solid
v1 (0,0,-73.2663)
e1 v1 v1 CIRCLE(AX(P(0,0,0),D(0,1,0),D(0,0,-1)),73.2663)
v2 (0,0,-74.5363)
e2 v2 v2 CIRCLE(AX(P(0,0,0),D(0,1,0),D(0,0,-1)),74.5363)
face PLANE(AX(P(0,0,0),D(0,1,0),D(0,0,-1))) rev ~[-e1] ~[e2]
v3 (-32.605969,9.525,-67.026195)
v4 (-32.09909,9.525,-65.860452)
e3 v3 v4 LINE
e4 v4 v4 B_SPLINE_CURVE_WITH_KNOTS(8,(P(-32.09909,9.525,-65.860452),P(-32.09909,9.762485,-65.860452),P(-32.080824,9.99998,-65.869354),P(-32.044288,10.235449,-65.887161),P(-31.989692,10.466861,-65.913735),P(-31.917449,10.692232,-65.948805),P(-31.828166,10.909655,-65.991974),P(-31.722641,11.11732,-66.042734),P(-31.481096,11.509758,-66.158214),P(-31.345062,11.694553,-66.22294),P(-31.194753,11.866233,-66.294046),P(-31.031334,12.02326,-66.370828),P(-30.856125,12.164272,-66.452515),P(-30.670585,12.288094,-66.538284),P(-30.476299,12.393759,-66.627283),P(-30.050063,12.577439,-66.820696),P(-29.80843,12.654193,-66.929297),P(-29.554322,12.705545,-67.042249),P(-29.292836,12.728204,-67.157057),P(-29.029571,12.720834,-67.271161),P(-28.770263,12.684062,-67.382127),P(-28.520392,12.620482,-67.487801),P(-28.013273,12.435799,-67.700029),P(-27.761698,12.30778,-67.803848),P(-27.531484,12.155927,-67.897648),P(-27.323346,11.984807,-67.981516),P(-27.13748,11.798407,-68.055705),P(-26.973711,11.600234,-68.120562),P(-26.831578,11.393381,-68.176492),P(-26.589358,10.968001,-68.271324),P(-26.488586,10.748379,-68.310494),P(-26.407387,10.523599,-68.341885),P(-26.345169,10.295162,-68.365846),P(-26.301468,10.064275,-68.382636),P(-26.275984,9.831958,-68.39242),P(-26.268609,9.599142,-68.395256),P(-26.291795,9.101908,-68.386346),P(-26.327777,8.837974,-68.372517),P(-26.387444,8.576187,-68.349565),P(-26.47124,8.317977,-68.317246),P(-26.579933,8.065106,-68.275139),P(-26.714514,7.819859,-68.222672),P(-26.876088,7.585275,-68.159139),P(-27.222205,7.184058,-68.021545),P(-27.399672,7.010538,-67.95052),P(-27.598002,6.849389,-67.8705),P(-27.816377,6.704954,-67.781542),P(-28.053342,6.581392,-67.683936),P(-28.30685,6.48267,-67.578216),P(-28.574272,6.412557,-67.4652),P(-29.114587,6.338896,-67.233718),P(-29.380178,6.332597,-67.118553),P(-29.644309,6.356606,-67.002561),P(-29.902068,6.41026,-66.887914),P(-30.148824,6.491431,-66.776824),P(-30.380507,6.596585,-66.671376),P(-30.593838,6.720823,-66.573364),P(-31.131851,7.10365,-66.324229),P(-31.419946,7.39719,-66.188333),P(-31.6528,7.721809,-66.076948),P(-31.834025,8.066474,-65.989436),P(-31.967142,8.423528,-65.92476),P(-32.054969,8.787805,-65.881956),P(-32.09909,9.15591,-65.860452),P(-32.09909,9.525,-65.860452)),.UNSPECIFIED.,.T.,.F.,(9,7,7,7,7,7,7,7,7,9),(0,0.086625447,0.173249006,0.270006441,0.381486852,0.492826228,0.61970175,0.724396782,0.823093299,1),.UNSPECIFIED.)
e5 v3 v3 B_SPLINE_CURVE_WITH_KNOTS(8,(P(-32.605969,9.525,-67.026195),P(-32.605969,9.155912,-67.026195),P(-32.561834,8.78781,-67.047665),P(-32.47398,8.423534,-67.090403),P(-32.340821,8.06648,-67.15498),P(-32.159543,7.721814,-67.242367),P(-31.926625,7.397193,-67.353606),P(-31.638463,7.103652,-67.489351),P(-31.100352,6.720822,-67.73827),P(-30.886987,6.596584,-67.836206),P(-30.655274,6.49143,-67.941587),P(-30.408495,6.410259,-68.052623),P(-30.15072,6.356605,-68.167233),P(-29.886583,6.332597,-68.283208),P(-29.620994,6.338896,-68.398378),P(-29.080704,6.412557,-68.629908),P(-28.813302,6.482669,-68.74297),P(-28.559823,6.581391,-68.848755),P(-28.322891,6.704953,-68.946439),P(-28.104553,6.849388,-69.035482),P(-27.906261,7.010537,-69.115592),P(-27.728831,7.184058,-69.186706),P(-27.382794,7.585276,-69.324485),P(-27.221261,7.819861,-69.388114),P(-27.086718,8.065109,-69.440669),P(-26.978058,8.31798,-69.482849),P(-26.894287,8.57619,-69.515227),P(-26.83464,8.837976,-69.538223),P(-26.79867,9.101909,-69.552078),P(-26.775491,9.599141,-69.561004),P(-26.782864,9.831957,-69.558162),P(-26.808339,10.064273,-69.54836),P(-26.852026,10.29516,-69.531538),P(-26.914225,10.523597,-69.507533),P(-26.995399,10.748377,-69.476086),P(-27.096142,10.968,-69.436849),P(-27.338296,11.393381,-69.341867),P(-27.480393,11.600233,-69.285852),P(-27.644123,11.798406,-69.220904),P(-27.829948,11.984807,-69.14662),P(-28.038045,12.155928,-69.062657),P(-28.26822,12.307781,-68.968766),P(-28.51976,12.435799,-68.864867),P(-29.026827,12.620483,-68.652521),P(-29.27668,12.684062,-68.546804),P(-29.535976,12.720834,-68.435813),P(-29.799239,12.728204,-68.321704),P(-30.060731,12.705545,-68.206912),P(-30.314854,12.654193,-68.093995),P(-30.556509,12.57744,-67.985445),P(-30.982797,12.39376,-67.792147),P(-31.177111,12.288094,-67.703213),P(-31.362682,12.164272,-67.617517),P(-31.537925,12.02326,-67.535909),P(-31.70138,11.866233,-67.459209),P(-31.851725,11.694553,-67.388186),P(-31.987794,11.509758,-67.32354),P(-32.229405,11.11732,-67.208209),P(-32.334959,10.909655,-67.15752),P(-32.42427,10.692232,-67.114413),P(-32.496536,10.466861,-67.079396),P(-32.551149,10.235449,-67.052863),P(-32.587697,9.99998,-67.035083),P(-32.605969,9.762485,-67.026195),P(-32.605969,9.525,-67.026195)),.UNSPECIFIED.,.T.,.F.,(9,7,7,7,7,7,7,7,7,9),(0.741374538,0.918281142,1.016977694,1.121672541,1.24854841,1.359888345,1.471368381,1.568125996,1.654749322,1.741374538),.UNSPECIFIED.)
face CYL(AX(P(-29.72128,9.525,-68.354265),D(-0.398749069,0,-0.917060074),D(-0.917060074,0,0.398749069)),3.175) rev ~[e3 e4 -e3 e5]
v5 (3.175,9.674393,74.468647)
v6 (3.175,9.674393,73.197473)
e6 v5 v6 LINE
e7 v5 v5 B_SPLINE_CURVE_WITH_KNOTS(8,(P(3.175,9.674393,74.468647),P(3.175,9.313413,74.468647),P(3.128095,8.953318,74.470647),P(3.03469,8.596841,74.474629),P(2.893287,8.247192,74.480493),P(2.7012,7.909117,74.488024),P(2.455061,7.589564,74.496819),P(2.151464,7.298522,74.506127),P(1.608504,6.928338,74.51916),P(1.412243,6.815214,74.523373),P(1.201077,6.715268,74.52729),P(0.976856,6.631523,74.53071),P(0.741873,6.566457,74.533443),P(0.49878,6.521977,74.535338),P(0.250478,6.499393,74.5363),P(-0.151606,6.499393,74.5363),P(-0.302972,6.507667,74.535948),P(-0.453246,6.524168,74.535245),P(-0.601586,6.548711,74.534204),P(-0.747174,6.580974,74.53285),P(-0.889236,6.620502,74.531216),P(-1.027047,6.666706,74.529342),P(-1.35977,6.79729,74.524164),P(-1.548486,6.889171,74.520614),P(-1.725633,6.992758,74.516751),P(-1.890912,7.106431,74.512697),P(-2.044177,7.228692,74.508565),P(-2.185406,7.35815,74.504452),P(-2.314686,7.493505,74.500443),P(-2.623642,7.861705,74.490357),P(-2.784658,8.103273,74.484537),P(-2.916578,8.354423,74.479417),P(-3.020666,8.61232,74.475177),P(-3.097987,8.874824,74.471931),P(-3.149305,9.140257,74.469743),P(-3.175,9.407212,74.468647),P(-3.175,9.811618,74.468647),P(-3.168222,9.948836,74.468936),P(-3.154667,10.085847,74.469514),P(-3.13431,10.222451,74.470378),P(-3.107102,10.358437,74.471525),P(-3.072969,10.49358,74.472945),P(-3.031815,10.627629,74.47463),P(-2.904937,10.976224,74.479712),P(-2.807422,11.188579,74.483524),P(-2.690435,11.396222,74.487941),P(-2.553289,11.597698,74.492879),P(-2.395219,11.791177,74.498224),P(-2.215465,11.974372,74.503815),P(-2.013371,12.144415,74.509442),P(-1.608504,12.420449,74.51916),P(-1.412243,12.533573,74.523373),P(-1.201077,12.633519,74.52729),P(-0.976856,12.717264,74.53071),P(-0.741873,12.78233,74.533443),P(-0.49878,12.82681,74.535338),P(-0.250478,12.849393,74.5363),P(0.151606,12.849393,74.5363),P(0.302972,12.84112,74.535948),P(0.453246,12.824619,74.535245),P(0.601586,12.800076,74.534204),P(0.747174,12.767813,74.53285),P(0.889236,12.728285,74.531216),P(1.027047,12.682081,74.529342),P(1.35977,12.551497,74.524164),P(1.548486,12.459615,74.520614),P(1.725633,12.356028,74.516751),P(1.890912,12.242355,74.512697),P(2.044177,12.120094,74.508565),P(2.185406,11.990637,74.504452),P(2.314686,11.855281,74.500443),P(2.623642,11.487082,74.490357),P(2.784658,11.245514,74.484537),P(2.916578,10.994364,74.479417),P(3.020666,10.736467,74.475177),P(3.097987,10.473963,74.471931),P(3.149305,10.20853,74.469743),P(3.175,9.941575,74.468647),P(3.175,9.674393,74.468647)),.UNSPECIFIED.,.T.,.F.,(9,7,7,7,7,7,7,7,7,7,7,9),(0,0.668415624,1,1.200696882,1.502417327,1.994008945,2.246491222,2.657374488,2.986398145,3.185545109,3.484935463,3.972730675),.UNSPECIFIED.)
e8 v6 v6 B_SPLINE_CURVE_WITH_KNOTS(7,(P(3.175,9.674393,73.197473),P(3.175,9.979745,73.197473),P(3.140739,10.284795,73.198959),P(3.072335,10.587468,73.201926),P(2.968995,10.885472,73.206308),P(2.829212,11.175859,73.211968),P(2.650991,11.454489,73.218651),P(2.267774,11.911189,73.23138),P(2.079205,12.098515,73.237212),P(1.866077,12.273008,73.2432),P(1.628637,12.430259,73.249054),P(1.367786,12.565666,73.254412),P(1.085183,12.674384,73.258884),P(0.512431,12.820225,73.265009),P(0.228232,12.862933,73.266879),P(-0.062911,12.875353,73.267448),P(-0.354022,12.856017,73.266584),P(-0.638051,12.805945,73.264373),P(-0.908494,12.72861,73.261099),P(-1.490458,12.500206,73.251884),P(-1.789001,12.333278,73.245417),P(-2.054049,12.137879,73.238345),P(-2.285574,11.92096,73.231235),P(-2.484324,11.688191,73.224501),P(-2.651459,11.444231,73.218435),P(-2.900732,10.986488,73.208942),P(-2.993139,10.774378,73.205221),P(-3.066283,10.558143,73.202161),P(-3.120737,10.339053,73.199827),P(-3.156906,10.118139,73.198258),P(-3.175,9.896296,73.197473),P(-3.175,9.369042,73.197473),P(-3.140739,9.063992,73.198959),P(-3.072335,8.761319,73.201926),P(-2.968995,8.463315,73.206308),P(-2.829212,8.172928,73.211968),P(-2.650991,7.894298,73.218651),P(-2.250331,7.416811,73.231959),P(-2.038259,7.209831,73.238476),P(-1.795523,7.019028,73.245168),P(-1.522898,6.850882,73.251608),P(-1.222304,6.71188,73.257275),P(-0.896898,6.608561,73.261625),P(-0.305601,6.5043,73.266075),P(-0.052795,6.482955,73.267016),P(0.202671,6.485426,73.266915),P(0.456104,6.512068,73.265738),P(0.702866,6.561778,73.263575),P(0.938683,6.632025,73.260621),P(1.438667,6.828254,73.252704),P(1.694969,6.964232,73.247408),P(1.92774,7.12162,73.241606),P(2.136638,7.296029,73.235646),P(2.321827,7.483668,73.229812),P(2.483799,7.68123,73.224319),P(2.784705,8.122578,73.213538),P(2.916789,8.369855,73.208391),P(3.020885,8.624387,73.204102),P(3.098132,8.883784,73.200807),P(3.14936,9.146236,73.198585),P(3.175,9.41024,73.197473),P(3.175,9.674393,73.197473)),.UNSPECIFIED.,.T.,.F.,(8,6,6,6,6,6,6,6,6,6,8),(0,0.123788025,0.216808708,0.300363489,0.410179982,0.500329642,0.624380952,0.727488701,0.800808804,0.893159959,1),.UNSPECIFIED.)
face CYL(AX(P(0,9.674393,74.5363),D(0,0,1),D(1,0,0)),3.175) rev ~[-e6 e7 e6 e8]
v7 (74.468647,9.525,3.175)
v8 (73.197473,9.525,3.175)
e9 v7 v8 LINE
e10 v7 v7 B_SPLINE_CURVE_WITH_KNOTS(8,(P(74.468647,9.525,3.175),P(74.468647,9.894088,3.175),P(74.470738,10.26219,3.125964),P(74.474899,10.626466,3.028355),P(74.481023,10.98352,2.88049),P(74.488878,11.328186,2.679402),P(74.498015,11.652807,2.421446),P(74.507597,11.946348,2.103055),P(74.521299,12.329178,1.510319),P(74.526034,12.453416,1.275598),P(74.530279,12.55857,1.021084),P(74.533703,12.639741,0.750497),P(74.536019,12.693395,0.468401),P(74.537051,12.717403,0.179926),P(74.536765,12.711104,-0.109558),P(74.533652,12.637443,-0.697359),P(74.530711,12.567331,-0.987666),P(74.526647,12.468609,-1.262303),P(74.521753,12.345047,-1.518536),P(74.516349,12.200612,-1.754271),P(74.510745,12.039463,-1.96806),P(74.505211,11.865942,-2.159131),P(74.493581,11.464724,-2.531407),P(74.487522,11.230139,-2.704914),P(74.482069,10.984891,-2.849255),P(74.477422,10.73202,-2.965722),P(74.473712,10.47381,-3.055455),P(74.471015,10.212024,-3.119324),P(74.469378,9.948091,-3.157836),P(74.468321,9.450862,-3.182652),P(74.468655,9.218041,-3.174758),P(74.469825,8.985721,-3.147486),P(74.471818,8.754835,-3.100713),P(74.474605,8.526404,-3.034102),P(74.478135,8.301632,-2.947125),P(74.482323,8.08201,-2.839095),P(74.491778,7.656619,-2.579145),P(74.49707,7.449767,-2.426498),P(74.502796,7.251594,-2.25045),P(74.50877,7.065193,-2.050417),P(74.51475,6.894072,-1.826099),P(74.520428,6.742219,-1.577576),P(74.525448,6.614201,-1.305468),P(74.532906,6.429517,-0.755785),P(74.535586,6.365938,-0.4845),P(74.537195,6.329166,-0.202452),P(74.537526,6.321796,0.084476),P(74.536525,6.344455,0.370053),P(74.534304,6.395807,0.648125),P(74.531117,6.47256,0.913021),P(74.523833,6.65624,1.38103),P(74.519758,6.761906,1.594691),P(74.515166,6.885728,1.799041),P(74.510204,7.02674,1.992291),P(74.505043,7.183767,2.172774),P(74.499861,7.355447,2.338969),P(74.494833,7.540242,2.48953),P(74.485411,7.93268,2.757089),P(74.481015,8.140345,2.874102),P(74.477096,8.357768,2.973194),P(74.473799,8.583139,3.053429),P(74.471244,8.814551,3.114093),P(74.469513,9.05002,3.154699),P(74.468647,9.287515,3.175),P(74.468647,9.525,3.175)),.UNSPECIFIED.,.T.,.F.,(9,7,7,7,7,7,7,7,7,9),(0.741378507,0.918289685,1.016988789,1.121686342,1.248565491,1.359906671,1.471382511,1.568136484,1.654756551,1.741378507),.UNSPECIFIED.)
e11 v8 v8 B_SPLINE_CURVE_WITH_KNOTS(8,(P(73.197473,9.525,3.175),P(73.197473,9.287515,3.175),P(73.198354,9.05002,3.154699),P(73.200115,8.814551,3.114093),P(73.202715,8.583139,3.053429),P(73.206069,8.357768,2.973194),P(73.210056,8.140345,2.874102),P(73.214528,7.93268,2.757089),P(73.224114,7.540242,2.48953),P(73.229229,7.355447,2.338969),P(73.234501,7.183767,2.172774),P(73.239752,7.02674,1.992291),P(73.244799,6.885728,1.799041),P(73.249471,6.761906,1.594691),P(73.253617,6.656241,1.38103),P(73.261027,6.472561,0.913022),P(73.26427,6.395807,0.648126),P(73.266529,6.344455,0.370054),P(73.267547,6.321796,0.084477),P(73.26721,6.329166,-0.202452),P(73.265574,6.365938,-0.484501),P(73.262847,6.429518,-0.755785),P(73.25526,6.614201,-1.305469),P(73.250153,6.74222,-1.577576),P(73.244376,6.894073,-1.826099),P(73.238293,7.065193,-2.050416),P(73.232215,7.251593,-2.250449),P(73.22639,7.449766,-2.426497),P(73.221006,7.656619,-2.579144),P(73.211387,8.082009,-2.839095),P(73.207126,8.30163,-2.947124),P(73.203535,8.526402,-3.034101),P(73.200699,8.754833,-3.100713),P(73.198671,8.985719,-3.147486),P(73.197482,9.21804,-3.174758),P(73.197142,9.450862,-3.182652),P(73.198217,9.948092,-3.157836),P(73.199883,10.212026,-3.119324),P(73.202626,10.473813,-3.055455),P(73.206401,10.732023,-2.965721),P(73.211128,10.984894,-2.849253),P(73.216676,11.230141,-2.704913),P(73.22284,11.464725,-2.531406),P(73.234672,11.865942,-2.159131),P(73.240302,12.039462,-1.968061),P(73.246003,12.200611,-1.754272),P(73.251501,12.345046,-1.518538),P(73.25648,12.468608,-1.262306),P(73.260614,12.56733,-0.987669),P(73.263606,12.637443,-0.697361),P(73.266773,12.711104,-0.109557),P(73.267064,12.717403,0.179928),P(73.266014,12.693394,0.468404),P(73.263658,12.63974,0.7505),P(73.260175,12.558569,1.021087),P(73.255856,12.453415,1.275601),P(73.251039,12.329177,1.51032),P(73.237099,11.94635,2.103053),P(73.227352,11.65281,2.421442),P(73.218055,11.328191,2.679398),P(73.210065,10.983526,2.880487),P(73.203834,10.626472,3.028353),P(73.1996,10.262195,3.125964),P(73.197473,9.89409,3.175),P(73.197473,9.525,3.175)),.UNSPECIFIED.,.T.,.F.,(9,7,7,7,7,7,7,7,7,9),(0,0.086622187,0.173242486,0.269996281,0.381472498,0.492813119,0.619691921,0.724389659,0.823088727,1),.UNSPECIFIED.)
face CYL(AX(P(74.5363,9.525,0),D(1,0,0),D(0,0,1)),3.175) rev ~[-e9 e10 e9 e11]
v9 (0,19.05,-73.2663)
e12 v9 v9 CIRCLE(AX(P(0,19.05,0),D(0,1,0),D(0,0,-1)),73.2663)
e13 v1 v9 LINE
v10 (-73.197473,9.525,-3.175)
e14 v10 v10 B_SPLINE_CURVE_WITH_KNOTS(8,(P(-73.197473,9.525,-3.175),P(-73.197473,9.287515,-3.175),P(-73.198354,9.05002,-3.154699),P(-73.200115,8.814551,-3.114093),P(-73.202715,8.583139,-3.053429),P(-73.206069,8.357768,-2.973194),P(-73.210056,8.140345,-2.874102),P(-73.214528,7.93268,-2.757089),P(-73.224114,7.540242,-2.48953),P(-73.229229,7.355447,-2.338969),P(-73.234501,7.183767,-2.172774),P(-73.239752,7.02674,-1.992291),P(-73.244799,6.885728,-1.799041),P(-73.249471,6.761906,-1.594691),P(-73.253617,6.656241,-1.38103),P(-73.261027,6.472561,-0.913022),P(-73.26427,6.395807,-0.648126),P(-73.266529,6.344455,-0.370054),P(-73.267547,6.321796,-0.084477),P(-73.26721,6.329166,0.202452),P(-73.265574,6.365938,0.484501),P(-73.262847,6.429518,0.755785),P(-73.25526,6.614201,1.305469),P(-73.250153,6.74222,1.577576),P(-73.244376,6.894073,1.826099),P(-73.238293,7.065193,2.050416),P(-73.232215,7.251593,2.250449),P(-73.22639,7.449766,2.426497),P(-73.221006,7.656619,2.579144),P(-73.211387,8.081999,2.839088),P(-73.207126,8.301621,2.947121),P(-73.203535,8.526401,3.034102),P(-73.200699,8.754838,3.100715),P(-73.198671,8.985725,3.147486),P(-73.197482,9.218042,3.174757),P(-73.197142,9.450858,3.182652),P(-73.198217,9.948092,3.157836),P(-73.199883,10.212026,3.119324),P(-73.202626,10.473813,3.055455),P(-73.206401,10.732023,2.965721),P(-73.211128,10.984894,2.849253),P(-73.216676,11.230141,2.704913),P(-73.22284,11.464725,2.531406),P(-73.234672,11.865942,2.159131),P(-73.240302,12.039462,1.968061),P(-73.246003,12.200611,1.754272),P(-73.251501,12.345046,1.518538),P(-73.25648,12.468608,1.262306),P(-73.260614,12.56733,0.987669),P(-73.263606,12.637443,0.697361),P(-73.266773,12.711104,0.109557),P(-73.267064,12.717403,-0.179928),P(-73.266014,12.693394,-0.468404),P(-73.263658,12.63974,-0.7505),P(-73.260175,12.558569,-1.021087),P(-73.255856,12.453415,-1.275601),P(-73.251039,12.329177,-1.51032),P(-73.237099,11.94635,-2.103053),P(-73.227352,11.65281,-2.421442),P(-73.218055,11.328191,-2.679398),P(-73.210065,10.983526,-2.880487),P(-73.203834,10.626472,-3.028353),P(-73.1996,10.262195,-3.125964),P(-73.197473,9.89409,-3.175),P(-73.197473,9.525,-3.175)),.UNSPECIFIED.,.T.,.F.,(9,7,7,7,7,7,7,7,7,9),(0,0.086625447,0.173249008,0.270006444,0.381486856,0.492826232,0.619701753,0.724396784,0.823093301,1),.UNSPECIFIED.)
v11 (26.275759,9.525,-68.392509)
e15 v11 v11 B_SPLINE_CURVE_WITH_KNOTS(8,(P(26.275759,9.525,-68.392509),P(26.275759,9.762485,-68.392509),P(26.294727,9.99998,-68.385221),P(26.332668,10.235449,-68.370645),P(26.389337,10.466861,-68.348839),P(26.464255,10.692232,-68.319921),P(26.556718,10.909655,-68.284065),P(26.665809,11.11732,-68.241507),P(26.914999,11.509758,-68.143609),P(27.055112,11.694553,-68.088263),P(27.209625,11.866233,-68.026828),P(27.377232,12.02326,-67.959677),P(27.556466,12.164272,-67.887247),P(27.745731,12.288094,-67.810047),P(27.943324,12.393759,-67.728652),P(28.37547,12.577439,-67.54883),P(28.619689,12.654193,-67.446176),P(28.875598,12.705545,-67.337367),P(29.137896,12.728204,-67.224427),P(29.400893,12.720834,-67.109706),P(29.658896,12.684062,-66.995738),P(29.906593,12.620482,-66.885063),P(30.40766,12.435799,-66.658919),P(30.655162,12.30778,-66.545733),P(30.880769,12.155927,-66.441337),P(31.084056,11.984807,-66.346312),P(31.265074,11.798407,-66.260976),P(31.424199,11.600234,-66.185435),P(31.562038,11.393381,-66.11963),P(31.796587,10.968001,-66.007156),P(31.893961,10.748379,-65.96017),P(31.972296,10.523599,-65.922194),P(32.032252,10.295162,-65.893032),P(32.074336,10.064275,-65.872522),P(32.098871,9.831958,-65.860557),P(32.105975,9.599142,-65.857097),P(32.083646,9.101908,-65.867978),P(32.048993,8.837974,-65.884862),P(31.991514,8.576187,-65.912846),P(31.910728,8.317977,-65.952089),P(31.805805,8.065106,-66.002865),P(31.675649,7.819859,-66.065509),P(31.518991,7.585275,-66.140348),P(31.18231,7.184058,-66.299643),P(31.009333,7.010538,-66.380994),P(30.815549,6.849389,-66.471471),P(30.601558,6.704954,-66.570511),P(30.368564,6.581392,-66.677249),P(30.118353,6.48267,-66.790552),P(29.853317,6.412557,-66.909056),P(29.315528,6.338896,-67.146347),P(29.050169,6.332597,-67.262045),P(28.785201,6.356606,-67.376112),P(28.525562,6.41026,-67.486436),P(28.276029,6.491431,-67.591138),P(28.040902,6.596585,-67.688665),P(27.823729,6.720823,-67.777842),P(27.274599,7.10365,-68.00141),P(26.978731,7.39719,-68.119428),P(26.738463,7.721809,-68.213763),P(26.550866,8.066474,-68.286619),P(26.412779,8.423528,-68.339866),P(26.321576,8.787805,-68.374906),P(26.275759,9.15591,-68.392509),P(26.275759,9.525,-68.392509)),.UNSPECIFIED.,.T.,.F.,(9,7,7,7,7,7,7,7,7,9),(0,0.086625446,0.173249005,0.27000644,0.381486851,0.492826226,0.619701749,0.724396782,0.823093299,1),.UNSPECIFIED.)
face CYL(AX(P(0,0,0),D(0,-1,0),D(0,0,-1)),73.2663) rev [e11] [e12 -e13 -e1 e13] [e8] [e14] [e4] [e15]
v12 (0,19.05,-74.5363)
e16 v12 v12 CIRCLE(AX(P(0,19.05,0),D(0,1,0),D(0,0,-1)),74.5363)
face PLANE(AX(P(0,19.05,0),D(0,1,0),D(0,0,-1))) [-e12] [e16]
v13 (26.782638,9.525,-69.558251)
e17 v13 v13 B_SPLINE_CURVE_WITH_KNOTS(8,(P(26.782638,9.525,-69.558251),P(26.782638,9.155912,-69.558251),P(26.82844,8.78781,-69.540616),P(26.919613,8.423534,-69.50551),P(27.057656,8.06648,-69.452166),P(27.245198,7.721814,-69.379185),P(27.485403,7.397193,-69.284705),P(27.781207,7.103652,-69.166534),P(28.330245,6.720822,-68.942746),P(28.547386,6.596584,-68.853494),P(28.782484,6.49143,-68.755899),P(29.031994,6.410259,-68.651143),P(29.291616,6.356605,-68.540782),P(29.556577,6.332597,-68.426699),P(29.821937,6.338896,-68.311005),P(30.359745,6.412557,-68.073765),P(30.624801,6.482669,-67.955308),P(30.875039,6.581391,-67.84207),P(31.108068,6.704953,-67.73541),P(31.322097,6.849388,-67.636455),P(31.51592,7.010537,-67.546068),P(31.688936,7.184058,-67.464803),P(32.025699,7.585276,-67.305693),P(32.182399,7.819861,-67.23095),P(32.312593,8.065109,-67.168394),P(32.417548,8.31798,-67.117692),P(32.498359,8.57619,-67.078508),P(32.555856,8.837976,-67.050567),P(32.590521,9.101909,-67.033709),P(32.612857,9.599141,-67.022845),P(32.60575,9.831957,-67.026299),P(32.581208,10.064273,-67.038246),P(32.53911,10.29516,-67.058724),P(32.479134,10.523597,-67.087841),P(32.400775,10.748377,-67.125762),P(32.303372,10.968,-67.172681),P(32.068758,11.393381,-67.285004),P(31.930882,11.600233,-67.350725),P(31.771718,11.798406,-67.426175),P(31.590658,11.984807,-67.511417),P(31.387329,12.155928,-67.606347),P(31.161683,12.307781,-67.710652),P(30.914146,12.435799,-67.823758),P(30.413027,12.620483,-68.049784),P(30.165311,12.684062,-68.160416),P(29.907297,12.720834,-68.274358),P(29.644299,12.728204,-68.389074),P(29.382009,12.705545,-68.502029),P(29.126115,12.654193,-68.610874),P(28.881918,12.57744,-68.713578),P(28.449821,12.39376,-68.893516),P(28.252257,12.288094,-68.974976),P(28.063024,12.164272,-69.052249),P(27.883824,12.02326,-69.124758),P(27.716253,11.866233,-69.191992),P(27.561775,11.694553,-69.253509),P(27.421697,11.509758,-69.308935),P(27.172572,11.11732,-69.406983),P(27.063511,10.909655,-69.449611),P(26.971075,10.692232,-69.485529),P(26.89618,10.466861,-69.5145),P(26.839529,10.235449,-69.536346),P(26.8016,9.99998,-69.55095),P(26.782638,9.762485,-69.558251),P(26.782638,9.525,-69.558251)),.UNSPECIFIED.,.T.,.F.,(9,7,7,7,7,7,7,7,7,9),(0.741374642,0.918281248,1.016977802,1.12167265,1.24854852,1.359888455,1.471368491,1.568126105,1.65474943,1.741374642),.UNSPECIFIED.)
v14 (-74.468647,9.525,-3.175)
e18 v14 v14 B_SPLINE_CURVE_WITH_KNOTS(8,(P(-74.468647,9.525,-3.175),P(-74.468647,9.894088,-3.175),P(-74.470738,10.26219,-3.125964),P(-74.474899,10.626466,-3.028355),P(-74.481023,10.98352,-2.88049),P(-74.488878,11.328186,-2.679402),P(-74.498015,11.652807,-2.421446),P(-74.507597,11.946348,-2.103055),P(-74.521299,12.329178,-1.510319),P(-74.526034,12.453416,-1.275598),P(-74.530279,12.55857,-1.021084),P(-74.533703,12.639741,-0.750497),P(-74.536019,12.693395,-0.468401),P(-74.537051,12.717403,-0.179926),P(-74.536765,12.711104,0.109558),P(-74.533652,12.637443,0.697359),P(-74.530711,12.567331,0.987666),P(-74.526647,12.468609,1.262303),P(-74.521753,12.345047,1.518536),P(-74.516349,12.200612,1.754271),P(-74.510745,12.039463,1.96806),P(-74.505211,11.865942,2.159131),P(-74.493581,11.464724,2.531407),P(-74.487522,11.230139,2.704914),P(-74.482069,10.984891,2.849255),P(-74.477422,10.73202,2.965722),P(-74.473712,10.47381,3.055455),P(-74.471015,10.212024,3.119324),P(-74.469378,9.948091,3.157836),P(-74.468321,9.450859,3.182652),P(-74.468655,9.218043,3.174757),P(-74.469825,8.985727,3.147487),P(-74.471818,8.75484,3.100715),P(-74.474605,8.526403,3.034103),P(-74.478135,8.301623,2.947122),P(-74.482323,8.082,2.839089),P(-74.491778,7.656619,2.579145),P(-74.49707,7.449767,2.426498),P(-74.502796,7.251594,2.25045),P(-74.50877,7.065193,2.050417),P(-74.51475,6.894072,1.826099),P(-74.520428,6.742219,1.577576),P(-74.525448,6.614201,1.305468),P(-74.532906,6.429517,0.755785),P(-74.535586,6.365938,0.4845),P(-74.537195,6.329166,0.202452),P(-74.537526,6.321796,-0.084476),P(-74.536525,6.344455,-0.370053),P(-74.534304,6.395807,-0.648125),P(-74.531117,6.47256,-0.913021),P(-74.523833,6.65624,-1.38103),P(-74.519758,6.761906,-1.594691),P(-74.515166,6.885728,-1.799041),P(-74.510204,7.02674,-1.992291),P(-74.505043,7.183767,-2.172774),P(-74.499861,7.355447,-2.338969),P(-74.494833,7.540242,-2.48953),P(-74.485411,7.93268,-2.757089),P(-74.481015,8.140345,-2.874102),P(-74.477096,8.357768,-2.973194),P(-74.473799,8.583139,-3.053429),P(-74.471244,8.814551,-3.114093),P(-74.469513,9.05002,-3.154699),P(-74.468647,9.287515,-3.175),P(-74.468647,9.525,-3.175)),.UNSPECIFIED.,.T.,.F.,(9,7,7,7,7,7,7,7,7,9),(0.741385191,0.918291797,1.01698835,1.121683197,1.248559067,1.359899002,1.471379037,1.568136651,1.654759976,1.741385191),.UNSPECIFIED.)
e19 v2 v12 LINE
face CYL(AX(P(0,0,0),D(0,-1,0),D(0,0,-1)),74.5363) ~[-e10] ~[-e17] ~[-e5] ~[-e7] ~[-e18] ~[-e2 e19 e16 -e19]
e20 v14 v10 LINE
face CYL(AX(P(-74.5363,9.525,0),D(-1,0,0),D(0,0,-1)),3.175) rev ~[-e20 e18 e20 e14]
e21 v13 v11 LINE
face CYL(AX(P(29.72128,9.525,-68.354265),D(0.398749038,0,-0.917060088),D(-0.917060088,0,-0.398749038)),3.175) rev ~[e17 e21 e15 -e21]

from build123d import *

# Parameters (mm, degrees)
SKETCH1_R                                 = 74.5363
SKETCH1_R_2                               = 73.2663
BOSS_EXTRUDE1_DEPTH                       = 19.05
F_1_4_0_25_DIAMETER_HOLE1_REACH           = 179.139
F_1_4_0_25_DIAMETER_HOLE1_BORE_R          = 3.175
F_1_4_0_25_DIAMETER_HOLE1_ON_FACE_2_REACH = 179.139
F_1_4_0_25_DIAMETER_HOLE1_BORE_2_R        = 3.175
F_1_4_0_25_DIAMETER_HOLE4_REACH           = 168.94
F_1_4_0_25_DIAMETER_HOLE4_BORE_R          = 3.175
F_1_4_0_25_DIAMETER_HOLE4_ON_FACE_2_REACH = 168.949
F_1_4_0_25_DIAMETER_HOLE4_BORE_2_R        = 3.175
F_1_4_0_25_DIAMETER_HOLE4_ON_FACE_3_REACH = 168.94
F_1_4_0_25_DIAMETER_HOLE4_BORE_3_R        = 3.175


with BuildPart() as part:
    # Sketch1 → Boss-Extrude1 (new body)
    with BuildSketch(Plane(origin=(0, 0, 0), x_dir=(1, 0, 0), z_dir=(0, 1, 0))):
        with Locations(Location((0, 0, 0), (0, 0, 90))):
            Circle(SKETCH1_R)
        with Locations(Location((0, 0, 0), (0, 0, 90))):
            Circle(SKETCH1_R_2, mode=Mode.SUBTRACT)
    extrude(amount=BOSS_EXTRUDE1_DEPTH)

    # 1/4 (0.25) Diameter Hole1 bore (on position points) → 1/4 (0.25) Diameter Hole1 (cut, up to next)
    with BuildSketch(Plane(origin=(-29.721280226, 9.525, -68.354264822), x_dir=(-0.917060074385, 0, 0.398749068925), z_dir=(-0.398749068925, 0, -0.917060074385)), mode=Mode.PRIVATE) as f_1_4_0_25_diameter_hole1_sk1:
        Circle(F_1_4_0_25_DIAMETER_HOLE1_BORE_R)
    f_1_4_0_25_diameter_hole1_tool1 = extrude(f_1_4_0_25_diameter_hole1_sk1.sketch, amount=-F_1_4_0_25_DIAMETER_HOLE1_REACH, mode=Mode.PRIVATE) & part.part
    add(f_1_4_0_25_diameter_hole1_tool1.solids().sort_by_distance((-29.72128, 9.525, -68.354265))[0], mode=Mode.SUBTRACT)

    # 1/4 (0.25) Diameter Hole1 bore 2 (on position points) → 1/4 (0.25) Diameter Hole1 on face 2 (cut, up to next)
    with BuildSketch(Plane(origin=(29.721280226, 9.525, -68.354264822), x_dir=(-0.917060087762, 0, -0.39874903816), z_dir=(0.39874903816, 0, -0.917060087762)), mode=Mode.PRIVATE) as f_1_4_0_25_diameter_hole1_on_face_2_sk1:
        Circle(F_1_4_0_25_DIAMETER_HOLE1_BORE_2_R)
    f_1_4_0_25_diameter_hole1_on_face_2_tool1 = extrude(f_1_4_0_25_diameter_hole1_on_face_2_sk1.sketch, amount=-F_1_4_0_25_DIAMETER_HOLE1_ON_FACE_2_REACH, mode=Mode.PRIVATE) & part.part
    add(f_1_4_0_25_diameter_hole1_on_face_2_tool1.solids().sort_by_distance((29.72128, 9.525, -68.354265))[0], mode=Mode.SUBTRACT)

    # 1/4 (0.25) Diameter Hole4 bore (on position points) → 1/4 (0.25) Diameter Hole4 (cut, up to next)
    with BuildSketch(Plane(origin=(74.5363, 9.525, 0), x_dir=(0, 0, 1), z_dir=(1, 0, 0)), mode=Mode.PRIVATE) as f_1_4_0_25_diameter_hole4_sk1:
        Circle(F_1_4_0_25_DIAMETER_HOLE4_BORE_R)
    f_1_4_0_25_diameter_hole4_tool1 = extrude(f_1_4_0_25_diameter_hole4_sk1.sketch, amount=-F_1_4_0_25_DIAMETER_HOLE4_REACH, mode=Mode.PRIVATE) & part.part
    add(f_1_4_0_25_diameter_hole4_tool1.solids().sort_by_distance((74.5363, 9.525, 0))[0], mode=Mode.SUBTRACT)

    # 1/4 (0.25) Diameter Hole4 bore 2 (on position points) → 1/4 (0.25) Diameter Hole4 on face 2 (cut, up to next)
    with BuildSketch(Plane(origin=(0, 9.674393406, 74.5363), x_dir=(1, 0, 0), z_dir=(0, 0, 1)), mode=Mode.PRIVATE) as f_1_4_0_25_diameter_hole4_on_face_2_sk1:
        Circle(F_1_4_0_25_DIAMETER_HOLE4_BORE_2_R)
    f_1_4_0_25_diameter_hole4_on_face_2_tool1 = extrude(f_1_4_0_25_diameter_hole4_on_face_2_sk1.sketch, amount=-F_1_4_0_25_DIAMETER_HOLE4_ON_FACE_2_REACH, mode=Mode.PRIVATE) & part.part
    add(f_1_4_0_25_diameter_hole4_on_face_2_tool1.solids().sort_by_distance((0, 9.674393, 74.5363))[0], mode=Mode.SUBTRACT)

    # 1/4 (0.25) Diameter Hole4 bore 3 (on position points) → 1/4 (0.25) Diameter Hole4 on face 3 (cut, up to next)
    with BuildSketch(Plane(origin=(-74.5363, 9.525, 0), x_dir=(0, 0, -1), z_dir=(-1, 0, 0)), mode=Mode.PRIVATE) as f_1_4_0_25_diameter_hole4_on_face_3_sk1:
        Circle(F_1_4_0_25_DIAMETER_HOLE4_BORE_3_R)
    f_1_4_0_25_diameter_hole4_on_face_3_tool1 = extrude(f_1_4_0_25_diameter_hole4_on_face_3_sk1.sketch, amount=-F_1_4_0_25_DIAMETER_HOLE4_ON_FACE_3_REACH, mode=Mode.PRIVATE) & part.part
    add(f_1_4_0_25_diameter_hole4_on_face_3_tool1.solids().sort_by_distance((-74.5363, 9.525, 0))[0], mode=Mode.SUBTRACT)


solid = part.part
